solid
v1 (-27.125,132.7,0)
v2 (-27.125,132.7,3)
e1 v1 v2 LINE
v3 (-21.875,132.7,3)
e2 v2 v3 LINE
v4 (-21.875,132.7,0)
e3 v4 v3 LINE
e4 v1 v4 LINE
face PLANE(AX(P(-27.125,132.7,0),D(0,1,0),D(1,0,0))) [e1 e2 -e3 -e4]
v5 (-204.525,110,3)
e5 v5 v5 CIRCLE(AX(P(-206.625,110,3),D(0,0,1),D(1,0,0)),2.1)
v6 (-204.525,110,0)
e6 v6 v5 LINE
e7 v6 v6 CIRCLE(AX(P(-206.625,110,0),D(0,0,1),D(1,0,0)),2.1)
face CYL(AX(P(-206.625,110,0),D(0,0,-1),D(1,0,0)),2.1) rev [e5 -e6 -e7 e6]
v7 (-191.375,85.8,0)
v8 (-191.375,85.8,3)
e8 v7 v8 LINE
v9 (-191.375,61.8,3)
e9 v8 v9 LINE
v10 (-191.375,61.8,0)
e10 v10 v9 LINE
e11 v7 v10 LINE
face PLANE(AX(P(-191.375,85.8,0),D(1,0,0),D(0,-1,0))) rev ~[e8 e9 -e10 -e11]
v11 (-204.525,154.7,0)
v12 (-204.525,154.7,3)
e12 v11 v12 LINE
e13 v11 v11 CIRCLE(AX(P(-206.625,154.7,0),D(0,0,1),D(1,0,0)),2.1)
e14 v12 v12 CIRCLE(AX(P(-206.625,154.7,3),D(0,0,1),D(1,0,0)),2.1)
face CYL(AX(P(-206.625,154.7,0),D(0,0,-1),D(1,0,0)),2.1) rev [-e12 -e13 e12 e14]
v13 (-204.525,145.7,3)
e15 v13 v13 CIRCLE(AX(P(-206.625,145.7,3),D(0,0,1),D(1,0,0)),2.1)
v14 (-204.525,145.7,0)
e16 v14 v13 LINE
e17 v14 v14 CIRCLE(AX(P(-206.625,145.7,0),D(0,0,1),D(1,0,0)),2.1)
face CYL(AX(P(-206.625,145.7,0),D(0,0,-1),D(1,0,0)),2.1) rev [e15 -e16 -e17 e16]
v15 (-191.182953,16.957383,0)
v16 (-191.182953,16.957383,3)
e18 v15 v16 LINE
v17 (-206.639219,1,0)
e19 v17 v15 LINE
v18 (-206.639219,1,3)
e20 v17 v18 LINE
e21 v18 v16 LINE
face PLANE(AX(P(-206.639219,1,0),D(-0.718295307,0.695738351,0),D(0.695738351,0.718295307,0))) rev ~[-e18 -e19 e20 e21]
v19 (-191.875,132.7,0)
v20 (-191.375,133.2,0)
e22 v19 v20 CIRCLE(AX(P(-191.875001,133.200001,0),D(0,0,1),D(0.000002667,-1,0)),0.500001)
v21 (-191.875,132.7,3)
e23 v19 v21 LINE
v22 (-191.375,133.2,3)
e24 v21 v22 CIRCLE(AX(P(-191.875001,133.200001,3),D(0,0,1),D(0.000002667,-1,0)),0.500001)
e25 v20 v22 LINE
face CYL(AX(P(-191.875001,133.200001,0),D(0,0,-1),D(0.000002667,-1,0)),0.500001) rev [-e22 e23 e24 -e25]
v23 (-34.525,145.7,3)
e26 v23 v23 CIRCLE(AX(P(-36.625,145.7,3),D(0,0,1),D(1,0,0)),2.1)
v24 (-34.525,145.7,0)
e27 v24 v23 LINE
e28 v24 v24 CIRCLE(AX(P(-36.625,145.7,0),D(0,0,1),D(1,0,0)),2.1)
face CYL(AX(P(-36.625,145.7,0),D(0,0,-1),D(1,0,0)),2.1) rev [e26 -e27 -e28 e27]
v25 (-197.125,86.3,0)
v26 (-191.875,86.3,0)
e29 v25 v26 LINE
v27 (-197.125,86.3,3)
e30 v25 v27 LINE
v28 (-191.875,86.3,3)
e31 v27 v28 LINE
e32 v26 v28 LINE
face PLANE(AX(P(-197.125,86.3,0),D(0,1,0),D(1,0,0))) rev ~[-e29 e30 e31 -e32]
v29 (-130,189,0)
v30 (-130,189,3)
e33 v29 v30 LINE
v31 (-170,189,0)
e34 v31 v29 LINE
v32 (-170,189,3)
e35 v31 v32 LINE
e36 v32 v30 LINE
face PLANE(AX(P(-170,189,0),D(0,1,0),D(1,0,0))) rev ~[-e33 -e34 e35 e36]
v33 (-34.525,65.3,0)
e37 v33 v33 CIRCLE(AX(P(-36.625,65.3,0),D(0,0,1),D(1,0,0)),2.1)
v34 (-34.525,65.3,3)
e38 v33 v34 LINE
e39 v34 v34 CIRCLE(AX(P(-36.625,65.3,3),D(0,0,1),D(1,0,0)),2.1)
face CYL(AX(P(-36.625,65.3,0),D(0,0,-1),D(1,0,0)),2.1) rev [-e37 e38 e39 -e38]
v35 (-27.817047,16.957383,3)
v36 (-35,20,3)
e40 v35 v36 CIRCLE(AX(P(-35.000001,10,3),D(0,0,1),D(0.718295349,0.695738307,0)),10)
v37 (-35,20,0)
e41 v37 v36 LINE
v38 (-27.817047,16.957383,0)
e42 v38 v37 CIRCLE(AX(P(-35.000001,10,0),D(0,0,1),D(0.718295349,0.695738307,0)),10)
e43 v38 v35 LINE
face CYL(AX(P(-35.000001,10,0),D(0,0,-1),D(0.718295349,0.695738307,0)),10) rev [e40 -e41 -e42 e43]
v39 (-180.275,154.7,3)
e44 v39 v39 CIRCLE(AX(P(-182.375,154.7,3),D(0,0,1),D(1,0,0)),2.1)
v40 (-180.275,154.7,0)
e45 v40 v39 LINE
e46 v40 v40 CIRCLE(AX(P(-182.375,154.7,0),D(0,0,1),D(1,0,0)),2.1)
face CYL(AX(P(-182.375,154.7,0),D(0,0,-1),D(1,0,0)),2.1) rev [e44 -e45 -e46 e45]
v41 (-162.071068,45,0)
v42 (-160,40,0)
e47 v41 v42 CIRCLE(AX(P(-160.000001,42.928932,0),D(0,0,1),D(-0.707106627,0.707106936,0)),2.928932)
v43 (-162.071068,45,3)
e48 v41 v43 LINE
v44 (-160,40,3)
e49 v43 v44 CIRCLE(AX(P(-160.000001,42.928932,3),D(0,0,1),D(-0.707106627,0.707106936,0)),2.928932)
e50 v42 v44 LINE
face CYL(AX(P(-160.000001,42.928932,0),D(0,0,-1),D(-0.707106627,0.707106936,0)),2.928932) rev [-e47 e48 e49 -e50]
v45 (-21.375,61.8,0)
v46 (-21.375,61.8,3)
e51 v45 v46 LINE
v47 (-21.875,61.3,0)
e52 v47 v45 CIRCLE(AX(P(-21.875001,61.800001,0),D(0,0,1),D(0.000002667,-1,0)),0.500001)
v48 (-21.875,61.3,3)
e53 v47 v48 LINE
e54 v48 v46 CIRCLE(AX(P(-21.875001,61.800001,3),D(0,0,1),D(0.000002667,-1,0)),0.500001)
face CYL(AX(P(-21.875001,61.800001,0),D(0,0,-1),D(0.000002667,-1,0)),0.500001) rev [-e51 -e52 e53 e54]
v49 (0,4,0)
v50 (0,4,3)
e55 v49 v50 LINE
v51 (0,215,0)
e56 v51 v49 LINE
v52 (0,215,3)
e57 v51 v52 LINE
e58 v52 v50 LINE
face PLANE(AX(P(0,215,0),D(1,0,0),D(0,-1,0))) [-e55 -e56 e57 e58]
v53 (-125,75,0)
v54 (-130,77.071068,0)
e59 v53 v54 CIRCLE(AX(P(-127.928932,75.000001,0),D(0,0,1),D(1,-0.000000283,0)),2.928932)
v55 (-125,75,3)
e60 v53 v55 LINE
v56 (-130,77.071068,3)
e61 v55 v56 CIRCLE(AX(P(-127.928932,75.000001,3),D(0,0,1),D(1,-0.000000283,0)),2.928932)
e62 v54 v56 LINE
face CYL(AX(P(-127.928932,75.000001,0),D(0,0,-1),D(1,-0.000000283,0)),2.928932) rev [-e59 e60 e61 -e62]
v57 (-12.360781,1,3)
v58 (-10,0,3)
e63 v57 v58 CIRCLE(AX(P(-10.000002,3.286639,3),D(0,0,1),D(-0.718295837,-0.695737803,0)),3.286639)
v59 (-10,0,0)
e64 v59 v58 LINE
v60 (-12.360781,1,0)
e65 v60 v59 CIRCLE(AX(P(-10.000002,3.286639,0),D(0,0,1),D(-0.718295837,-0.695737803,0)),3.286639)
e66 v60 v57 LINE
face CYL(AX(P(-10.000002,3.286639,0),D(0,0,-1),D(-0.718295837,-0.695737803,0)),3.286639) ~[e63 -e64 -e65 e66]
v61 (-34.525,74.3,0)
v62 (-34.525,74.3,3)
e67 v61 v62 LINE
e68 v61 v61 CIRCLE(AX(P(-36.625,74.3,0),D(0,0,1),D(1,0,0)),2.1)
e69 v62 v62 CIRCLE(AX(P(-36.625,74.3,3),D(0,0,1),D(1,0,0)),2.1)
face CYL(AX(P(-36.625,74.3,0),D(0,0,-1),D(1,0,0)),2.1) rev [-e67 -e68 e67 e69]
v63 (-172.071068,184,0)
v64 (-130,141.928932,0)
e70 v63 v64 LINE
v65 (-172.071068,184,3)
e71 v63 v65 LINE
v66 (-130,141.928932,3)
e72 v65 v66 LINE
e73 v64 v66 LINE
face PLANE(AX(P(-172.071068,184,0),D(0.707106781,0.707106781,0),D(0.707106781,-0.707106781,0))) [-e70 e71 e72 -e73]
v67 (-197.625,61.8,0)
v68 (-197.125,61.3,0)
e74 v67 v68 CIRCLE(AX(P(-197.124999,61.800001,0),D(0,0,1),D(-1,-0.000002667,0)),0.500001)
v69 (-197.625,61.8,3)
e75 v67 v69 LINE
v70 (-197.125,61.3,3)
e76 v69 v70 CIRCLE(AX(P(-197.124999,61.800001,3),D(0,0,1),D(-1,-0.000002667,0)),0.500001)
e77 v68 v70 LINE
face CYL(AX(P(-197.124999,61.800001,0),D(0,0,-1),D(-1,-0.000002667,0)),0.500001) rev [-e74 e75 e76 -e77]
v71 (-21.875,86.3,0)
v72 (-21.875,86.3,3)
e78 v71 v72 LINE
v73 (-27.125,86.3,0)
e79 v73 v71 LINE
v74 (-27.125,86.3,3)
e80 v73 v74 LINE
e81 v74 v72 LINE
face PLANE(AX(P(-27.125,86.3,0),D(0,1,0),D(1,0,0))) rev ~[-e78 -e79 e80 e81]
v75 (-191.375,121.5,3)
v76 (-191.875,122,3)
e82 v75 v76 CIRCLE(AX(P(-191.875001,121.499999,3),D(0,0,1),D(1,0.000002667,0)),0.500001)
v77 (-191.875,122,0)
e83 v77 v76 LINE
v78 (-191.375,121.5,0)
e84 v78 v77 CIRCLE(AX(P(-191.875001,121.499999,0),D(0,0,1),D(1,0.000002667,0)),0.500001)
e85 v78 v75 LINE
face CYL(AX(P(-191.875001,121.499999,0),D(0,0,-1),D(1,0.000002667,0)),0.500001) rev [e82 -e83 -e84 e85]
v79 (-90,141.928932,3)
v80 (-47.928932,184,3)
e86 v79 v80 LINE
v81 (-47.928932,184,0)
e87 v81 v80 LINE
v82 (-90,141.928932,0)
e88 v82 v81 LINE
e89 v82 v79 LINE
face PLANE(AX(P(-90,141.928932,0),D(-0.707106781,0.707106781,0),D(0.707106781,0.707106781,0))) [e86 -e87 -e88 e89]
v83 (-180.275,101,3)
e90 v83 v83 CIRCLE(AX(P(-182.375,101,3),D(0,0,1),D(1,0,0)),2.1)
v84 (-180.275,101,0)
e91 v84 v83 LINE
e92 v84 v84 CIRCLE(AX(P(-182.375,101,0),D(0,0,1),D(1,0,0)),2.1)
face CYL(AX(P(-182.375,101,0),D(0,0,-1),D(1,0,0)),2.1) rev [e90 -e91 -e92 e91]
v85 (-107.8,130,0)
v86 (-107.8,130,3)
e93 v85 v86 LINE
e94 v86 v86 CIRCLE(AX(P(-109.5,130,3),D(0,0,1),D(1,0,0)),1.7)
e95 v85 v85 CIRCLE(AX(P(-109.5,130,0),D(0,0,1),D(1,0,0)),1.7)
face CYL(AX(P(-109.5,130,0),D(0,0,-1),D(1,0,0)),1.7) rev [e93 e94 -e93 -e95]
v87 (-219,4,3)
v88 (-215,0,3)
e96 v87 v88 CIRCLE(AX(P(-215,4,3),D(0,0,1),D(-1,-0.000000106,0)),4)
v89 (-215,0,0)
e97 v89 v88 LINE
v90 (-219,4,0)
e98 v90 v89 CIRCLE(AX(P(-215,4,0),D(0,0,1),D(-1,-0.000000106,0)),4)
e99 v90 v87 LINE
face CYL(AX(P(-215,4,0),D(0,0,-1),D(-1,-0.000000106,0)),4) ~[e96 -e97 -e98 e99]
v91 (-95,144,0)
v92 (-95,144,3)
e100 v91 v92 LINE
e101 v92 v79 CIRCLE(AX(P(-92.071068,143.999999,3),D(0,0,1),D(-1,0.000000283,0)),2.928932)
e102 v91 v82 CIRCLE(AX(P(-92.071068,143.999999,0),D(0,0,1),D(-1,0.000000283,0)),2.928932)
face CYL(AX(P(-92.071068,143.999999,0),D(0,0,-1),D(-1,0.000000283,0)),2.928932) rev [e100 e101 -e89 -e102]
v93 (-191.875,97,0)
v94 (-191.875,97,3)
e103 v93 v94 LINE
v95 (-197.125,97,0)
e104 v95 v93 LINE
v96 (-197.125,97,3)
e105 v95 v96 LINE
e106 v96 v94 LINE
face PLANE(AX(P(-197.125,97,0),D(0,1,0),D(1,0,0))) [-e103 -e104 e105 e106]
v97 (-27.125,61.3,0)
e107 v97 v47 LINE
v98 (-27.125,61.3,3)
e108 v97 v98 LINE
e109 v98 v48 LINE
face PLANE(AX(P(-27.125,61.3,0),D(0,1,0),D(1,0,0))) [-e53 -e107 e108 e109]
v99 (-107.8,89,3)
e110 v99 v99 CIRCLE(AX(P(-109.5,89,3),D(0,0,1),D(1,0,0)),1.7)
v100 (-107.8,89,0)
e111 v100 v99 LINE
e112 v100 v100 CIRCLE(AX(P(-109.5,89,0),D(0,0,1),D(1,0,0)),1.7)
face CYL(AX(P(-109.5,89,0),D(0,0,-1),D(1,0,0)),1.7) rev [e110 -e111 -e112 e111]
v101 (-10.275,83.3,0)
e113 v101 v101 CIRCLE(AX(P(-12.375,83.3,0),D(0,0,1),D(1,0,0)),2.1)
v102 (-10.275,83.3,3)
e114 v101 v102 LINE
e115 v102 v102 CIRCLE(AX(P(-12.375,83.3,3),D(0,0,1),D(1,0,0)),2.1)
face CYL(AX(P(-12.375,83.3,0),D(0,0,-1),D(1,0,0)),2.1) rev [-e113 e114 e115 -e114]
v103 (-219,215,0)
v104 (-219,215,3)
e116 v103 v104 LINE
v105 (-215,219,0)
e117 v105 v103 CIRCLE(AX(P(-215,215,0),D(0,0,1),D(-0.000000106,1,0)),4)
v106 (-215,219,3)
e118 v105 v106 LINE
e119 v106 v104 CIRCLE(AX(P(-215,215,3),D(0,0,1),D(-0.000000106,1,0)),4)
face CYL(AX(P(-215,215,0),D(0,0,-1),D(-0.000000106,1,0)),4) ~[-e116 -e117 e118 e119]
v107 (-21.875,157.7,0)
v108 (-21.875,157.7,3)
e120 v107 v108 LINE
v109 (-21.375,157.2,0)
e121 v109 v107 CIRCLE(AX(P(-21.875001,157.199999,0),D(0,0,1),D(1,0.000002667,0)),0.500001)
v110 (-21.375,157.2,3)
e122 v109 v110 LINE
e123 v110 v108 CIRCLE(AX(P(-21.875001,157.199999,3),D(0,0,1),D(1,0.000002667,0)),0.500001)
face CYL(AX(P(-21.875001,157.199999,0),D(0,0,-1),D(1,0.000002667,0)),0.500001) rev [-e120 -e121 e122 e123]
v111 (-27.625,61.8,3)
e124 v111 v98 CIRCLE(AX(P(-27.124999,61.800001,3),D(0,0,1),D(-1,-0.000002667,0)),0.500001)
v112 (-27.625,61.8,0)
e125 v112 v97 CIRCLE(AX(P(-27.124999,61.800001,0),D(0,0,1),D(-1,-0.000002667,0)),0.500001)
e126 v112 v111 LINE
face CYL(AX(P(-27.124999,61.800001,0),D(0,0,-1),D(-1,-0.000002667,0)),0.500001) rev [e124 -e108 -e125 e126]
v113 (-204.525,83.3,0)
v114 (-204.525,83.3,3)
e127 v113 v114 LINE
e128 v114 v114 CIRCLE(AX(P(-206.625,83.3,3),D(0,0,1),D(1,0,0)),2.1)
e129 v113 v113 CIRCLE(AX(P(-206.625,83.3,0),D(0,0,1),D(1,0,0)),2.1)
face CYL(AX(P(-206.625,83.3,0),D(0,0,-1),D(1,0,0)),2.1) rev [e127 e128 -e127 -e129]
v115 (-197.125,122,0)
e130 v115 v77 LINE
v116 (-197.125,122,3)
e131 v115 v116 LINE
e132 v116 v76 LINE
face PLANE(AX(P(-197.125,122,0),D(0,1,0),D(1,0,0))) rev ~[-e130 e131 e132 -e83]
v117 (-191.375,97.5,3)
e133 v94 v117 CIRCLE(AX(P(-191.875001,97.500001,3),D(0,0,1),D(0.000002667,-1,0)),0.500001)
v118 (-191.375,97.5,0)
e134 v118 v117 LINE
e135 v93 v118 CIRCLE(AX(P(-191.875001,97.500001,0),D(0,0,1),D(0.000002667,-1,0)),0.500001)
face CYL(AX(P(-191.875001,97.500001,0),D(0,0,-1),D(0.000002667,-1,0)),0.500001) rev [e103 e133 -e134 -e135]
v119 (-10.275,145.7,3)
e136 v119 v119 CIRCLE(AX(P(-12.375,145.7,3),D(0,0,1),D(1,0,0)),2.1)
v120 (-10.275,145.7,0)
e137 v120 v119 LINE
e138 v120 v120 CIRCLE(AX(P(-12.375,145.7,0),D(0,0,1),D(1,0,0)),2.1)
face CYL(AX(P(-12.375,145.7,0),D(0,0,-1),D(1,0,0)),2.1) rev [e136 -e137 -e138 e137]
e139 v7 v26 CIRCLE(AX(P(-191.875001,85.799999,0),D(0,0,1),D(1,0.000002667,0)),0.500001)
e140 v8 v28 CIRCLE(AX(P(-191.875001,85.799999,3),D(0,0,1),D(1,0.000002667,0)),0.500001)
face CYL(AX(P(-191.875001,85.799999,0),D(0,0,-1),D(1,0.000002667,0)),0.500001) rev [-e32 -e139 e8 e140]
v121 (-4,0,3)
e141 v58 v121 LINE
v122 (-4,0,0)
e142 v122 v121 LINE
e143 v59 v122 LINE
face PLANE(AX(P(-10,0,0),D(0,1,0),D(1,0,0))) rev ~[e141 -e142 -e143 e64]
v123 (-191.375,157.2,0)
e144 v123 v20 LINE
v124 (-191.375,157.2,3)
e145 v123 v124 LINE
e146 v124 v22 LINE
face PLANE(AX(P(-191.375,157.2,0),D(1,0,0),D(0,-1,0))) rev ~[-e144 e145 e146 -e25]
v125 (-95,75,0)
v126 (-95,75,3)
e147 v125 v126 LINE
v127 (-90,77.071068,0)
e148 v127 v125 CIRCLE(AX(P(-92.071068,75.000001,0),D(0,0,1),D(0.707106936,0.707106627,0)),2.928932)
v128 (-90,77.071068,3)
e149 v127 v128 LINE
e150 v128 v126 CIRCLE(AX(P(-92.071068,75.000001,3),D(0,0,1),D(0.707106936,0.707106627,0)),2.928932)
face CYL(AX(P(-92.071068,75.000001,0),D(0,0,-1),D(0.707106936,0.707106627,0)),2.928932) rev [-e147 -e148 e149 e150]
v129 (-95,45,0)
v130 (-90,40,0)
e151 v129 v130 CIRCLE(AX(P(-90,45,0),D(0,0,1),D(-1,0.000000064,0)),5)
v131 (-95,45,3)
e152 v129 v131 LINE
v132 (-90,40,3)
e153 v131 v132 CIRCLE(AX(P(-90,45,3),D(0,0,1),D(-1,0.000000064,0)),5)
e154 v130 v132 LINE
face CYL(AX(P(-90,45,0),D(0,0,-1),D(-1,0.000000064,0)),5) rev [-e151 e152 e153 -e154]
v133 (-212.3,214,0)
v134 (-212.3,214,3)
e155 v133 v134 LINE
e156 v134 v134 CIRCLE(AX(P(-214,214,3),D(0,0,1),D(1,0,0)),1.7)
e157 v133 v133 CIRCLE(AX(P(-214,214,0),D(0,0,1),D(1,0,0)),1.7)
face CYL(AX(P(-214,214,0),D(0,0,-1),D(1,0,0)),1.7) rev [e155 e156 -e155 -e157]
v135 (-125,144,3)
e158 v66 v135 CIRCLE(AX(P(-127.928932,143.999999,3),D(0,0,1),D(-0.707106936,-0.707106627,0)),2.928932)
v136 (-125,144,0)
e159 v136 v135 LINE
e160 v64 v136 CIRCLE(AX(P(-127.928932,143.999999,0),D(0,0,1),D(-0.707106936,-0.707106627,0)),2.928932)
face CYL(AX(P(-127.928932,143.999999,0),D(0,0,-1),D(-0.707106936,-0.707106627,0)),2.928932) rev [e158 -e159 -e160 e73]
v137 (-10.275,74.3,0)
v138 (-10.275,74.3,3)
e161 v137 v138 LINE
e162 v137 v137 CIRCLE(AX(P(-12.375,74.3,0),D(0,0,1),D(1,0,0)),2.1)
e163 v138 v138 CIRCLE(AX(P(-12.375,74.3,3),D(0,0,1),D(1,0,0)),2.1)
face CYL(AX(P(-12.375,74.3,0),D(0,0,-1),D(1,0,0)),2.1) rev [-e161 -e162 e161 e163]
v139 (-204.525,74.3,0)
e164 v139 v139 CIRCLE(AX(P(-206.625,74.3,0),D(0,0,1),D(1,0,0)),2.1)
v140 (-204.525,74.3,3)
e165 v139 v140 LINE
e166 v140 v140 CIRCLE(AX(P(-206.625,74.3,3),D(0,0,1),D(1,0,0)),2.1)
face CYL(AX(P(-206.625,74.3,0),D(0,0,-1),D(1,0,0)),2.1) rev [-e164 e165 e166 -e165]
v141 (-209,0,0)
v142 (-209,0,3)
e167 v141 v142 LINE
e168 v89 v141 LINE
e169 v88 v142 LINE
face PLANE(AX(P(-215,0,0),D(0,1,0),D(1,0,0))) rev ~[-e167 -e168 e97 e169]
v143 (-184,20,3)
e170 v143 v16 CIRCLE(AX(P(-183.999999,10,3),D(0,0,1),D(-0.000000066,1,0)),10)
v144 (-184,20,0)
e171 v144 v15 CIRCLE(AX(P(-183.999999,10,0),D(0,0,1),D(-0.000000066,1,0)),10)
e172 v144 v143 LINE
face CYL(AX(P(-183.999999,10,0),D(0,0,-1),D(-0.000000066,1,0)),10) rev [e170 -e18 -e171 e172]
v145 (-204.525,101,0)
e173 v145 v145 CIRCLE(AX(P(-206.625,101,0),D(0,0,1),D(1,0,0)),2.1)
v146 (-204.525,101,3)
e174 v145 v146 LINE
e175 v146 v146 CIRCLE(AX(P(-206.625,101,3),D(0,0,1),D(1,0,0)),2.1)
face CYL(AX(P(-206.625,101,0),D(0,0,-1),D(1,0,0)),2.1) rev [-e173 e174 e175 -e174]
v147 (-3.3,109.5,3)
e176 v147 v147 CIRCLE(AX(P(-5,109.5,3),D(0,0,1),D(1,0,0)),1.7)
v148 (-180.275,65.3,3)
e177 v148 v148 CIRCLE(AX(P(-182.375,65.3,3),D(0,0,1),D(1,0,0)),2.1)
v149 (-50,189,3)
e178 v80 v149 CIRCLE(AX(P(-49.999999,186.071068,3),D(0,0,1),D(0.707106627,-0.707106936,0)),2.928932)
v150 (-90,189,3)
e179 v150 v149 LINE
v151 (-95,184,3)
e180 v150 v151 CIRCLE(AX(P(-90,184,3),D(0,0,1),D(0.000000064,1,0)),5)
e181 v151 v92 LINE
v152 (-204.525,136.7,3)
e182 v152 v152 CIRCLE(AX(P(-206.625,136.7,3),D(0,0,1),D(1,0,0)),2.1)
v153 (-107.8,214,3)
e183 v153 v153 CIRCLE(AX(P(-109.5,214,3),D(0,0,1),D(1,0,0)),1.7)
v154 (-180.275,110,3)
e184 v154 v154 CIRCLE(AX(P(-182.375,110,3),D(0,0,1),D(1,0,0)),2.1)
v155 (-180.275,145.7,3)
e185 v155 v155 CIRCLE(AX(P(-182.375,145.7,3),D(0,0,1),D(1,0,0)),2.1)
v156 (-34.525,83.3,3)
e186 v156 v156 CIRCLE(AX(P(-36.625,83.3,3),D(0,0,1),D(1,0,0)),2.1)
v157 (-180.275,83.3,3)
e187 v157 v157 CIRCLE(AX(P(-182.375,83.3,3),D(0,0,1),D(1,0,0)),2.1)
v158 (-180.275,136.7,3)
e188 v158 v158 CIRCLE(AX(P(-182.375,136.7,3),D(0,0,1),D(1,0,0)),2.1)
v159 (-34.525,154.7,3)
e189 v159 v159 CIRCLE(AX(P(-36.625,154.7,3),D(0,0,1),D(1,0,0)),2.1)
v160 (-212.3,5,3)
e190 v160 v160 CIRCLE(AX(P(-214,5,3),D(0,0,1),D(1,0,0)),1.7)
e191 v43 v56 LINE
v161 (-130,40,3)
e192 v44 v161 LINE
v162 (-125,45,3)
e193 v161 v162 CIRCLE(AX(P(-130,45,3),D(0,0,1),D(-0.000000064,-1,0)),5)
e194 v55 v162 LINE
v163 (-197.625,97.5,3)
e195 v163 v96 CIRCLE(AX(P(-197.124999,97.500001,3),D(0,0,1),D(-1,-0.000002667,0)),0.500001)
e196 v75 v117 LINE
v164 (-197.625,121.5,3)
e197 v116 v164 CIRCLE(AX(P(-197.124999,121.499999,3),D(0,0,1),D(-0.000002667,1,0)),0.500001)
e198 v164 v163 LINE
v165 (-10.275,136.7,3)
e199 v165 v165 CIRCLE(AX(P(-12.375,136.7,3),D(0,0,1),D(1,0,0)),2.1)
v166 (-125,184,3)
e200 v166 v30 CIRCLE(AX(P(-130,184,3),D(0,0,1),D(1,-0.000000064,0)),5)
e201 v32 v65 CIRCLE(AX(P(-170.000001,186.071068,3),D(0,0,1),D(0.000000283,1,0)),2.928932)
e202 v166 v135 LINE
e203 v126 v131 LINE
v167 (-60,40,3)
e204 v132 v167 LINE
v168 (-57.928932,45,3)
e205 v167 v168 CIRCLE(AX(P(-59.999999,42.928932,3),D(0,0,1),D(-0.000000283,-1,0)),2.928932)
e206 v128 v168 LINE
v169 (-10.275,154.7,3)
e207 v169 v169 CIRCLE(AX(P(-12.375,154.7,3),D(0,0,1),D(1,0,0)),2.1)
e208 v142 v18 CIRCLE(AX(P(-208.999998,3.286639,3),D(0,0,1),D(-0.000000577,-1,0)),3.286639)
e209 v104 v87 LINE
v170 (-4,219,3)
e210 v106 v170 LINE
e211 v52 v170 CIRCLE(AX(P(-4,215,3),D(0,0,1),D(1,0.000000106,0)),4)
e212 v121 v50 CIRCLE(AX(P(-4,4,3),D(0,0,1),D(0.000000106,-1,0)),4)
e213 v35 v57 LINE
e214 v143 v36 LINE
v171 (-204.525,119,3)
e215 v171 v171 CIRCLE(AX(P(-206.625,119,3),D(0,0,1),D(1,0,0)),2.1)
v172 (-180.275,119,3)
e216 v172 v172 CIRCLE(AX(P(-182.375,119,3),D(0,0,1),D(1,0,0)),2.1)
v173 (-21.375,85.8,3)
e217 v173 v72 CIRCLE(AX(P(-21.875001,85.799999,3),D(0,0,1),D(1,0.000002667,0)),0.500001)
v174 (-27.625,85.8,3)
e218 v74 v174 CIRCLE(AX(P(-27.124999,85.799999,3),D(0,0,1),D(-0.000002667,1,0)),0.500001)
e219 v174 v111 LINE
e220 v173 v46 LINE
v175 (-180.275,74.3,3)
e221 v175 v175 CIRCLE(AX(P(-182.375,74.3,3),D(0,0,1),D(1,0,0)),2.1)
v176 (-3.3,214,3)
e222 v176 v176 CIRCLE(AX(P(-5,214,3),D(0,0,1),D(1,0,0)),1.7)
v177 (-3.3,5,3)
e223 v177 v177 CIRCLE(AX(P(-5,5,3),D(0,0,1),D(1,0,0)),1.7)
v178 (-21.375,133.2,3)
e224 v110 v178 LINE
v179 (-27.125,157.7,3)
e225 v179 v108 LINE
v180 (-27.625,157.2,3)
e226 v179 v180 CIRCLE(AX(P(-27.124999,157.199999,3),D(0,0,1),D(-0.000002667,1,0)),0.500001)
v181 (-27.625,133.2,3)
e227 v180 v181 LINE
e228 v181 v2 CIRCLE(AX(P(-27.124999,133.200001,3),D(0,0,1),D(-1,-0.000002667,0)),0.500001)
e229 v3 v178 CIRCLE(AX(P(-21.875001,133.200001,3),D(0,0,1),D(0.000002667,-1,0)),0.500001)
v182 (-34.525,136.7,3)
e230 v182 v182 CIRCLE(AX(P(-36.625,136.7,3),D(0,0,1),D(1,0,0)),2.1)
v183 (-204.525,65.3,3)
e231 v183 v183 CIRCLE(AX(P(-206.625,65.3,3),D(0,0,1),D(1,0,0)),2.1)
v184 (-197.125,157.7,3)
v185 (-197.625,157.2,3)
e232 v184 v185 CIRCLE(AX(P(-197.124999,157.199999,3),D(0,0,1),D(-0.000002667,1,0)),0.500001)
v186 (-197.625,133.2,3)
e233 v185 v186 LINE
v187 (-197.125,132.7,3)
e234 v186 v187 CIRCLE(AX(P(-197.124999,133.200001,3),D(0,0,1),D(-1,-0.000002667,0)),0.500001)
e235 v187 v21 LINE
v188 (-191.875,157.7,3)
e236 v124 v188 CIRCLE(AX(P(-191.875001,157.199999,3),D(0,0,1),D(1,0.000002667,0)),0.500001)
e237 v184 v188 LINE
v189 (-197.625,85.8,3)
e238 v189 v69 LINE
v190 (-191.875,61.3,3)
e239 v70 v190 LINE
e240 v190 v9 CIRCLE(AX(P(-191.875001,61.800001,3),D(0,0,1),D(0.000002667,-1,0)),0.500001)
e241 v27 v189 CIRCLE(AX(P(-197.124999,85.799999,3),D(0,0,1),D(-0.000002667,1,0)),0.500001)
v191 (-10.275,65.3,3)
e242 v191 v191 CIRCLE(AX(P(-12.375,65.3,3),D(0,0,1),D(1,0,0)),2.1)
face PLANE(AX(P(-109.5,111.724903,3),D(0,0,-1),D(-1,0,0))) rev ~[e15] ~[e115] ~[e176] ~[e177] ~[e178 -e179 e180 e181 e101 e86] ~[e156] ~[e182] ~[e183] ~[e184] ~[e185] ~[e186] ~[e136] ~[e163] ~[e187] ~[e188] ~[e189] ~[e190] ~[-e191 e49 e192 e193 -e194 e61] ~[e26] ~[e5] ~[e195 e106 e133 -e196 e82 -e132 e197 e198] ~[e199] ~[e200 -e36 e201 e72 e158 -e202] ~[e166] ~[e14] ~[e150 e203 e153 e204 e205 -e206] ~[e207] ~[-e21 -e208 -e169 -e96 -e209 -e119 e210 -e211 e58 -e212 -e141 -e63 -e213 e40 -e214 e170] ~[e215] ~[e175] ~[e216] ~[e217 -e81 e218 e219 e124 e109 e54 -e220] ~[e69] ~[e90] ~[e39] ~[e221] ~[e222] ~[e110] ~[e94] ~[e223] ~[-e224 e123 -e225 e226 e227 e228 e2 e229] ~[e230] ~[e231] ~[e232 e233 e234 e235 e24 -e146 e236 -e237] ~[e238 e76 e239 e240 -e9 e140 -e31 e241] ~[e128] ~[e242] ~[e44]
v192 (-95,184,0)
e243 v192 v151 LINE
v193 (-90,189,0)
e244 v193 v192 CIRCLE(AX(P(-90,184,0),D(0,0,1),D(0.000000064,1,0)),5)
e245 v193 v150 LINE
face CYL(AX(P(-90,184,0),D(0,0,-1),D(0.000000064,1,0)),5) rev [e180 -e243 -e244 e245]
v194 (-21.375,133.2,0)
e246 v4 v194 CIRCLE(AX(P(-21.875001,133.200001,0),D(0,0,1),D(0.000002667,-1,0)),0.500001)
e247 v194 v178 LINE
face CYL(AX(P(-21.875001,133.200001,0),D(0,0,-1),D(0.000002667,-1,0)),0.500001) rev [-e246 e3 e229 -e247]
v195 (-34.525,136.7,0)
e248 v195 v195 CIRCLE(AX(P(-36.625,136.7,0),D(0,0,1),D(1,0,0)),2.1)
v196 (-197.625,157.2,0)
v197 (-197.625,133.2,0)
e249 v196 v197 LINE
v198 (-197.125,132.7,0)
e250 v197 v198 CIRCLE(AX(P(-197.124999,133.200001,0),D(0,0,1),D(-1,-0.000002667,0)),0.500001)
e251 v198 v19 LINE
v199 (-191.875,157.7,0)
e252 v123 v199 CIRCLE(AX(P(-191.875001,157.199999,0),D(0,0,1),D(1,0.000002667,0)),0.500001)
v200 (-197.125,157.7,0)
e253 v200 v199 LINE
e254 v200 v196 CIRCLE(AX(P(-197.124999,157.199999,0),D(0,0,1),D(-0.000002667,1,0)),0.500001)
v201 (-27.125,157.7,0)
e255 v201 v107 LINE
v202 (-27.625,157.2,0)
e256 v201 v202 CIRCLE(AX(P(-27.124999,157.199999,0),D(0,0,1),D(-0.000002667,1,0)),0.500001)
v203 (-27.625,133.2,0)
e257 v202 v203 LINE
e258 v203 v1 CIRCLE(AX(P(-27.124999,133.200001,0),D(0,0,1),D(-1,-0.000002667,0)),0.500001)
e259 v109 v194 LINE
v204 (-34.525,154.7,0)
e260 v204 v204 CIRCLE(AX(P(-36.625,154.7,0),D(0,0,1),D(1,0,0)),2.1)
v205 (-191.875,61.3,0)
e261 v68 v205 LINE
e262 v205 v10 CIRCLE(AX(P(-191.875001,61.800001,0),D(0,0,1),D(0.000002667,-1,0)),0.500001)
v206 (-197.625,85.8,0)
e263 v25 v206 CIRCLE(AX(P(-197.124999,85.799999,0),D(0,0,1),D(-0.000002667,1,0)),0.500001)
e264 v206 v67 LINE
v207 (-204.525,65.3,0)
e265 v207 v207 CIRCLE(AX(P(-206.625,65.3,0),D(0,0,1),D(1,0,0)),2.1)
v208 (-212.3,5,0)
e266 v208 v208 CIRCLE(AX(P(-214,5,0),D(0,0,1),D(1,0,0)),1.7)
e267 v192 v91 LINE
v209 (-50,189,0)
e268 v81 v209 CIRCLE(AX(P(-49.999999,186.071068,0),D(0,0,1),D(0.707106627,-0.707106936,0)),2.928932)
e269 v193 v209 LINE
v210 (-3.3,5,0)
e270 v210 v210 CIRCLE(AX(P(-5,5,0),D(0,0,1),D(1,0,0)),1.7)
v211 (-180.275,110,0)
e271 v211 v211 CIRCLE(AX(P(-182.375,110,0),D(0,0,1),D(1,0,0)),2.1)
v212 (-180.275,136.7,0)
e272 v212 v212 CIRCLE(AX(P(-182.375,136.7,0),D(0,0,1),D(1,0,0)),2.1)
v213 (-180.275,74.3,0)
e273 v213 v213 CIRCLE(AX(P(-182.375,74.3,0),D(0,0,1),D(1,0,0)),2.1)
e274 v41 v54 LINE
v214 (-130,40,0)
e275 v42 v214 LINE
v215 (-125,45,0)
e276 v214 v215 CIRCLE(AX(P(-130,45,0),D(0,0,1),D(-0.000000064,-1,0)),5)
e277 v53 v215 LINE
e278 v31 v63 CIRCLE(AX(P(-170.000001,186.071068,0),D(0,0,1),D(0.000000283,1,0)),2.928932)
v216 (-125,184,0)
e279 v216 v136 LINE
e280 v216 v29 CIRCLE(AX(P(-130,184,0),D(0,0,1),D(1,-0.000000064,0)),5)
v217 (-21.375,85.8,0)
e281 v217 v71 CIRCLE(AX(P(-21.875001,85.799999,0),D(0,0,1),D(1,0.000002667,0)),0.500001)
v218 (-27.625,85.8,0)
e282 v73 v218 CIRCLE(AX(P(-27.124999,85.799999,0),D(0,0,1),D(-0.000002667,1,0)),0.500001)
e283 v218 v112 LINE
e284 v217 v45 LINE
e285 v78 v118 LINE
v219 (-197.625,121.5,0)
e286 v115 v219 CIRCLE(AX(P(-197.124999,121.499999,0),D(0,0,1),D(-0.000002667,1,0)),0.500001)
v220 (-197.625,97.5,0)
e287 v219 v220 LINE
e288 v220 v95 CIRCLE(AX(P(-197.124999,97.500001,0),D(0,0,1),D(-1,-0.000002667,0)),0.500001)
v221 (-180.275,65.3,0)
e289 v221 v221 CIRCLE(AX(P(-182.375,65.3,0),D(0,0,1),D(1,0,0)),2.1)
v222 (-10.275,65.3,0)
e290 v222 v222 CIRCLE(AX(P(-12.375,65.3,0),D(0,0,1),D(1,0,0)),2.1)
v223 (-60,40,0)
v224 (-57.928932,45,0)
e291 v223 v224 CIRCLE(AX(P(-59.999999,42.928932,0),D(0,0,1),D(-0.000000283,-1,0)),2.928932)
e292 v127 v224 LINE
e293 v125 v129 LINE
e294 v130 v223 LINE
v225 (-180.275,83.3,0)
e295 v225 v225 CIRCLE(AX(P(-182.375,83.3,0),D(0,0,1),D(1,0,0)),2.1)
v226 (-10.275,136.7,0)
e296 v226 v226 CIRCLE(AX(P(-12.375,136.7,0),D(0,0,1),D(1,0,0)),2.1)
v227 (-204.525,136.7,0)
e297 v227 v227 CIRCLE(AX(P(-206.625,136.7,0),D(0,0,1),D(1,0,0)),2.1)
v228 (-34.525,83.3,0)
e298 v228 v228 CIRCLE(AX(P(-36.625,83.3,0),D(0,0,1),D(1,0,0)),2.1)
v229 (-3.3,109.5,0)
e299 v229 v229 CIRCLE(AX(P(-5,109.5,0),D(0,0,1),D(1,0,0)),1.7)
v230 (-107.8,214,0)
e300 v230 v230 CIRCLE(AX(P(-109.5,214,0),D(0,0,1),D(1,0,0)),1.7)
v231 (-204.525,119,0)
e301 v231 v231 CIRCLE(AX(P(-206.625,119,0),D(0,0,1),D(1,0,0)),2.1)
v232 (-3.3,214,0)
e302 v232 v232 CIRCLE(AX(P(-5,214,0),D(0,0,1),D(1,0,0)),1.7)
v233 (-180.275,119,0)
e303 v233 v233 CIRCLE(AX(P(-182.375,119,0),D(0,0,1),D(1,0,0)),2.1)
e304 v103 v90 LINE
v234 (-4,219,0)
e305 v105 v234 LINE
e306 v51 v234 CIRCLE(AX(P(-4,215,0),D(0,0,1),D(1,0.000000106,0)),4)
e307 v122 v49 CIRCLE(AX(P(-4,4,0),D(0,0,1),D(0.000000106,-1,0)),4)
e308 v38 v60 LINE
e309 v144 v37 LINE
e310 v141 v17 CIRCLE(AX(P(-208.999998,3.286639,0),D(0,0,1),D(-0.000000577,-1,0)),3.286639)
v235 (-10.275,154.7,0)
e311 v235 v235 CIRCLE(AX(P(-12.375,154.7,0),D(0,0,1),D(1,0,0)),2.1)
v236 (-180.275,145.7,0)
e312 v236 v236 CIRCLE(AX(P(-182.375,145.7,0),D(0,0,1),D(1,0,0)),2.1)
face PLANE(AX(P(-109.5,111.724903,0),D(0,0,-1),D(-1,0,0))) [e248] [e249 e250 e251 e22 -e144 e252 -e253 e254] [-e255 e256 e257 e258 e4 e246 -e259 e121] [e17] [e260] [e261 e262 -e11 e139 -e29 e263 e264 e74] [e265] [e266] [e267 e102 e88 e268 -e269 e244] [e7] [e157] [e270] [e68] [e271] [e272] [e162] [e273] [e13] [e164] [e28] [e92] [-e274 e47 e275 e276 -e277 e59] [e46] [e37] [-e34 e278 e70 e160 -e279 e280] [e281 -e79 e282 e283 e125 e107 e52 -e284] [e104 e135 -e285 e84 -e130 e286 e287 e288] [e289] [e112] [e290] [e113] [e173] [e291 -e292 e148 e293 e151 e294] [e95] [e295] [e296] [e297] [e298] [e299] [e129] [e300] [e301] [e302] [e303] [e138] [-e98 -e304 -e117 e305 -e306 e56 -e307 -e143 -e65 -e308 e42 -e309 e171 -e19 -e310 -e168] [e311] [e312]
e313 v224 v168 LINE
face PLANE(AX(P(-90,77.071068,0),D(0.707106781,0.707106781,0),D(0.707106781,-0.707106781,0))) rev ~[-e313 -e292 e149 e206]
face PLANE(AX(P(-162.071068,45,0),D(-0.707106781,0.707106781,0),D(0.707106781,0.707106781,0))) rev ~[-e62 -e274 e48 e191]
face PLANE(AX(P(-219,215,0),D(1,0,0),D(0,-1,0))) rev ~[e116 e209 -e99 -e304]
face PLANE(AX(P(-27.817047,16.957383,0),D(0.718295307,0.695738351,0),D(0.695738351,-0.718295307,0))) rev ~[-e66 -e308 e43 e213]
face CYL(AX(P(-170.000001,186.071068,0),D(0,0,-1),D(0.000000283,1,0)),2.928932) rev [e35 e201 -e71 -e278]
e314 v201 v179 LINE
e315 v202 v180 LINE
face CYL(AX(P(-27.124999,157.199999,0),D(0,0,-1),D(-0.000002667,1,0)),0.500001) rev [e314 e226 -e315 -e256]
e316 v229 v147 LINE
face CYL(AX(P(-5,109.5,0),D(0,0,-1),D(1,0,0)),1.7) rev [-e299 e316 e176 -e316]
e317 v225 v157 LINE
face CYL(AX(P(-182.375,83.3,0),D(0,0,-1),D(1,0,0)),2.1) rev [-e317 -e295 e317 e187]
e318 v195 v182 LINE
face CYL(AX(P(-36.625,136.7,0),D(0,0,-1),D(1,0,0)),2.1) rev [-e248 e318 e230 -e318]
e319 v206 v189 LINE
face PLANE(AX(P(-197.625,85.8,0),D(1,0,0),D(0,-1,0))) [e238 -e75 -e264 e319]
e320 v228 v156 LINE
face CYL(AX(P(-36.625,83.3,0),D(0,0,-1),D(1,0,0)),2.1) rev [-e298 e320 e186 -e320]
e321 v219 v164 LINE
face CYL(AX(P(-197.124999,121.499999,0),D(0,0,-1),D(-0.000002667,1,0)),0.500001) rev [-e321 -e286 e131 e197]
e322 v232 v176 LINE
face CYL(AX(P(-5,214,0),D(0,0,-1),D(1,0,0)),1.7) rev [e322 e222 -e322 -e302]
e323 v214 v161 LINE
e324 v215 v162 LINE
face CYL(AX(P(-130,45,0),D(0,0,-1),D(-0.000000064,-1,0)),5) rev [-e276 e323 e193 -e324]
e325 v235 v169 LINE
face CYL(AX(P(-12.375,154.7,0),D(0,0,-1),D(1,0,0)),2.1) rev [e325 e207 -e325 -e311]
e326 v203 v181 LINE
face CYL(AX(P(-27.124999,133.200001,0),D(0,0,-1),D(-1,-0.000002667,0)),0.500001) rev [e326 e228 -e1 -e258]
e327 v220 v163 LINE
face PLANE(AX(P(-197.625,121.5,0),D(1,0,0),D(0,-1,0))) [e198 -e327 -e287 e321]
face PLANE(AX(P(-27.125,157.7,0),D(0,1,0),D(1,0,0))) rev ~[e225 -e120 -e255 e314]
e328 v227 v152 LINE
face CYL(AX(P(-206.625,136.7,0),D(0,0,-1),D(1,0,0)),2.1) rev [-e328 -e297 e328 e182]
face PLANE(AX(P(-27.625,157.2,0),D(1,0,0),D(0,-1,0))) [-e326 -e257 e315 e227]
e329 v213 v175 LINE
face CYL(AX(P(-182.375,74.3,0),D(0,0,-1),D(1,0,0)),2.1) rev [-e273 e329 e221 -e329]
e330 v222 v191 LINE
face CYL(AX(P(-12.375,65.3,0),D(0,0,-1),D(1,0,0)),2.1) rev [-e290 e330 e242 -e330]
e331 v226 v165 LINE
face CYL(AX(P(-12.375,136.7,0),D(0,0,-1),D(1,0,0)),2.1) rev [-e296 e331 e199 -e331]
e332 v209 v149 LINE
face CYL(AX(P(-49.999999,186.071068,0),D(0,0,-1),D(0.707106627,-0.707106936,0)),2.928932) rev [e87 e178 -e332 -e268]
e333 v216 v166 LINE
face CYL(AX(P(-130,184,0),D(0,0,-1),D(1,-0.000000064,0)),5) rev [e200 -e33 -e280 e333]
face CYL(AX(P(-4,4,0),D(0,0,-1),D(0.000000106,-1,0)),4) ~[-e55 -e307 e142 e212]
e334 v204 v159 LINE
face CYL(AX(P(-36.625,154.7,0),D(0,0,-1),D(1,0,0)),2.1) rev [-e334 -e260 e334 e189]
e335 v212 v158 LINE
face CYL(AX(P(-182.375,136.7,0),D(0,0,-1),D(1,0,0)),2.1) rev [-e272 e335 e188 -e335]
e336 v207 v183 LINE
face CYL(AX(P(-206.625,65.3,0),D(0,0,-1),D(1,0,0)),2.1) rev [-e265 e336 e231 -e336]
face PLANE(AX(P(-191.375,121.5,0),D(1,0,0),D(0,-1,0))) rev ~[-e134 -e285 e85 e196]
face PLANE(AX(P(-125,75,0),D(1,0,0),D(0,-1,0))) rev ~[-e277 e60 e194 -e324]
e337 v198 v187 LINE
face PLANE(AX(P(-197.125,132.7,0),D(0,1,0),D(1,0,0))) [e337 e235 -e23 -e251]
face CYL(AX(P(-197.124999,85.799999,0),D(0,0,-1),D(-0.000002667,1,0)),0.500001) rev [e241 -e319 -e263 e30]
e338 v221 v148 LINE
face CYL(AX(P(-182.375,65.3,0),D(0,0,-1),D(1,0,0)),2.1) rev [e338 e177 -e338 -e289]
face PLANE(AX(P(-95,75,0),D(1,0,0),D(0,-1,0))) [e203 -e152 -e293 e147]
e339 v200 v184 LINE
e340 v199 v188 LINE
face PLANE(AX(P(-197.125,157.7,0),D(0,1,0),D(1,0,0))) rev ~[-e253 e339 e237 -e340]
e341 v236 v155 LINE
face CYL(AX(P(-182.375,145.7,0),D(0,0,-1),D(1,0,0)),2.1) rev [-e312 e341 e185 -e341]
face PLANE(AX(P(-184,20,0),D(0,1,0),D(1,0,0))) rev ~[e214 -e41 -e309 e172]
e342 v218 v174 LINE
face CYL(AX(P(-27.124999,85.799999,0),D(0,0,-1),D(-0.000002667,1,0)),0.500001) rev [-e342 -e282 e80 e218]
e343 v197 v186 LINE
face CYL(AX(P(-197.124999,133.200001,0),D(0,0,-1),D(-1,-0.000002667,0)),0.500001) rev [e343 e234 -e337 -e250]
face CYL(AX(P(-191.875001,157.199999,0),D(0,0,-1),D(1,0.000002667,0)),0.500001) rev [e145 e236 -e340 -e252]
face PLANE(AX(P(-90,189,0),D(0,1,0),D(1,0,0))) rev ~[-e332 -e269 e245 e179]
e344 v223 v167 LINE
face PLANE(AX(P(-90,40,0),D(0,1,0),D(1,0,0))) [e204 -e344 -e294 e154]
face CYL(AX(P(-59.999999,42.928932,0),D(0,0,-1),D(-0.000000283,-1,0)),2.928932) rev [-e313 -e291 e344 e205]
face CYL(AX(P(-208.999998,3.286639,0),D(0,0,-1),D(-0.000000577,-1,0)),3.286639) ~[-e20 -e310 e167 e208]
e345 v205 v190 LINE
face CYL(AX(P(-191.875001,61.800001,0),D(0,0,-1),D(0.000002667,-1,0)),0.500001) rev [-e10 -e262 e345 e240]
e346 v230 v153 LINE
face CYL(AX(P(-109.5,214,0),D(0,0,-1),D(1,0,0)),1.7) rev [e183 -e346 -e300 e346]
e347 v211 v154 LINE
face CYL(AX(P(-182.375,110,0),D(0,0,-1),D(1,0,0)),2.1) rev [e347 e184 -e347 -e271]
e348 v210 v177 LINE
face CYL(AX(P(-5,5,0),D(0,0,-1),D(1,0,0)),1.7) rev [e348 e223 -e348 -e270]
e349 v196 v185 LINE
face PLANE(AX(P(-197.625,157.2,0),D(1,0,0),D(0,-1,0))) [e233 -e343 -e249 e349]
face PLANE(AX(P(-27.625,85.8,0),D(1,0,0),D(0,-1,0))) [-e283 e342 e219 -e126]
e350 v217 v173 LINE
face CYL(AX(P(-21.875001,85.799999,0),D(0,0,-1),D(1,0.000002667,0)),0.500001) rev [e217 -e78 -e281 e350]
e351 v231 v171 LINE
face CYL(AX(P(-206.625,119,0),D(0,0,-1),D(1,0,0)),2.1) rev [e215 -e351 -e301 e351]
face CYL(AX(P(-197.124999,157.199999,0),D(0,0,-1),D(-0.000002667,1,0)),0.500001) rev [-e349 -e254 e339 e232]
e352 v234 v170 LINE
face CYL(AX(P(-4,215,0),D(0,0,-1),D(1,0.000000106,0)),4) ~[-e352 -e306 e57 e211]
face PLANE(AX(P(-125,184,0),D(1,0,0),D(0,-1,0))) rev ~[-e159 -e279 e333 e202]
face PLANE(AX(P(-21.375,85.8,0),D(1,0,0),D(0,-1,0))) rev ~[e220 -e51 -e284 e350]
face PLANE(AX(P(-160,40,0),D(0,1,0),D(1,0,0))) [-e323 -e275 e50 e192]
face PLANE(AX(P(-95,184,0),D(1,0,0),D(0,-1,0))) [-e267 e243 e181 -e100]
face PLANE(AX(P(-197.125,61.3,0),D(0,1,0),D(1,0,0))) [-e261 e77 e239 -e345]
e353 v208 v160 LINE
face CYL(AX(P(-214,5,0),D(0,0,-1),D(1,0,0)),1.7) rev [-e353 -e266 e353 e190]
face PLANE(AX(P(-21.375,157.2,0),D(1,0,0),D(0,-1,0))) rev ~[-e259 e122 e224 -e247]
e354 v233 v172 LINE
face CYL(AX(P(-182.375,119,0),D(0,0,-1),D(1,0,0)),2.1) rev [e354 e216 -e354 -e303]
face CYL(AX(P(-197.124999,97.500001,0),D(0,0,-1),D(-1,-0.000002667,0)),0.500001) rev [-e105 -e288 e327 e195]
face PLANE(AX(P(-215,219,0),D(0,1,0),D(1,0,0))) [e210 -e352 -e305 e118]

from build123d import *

# Parameters (mm, degrees)
SKETCH009_R   = 1.7
SKETCH009_R_2 = 2.1
PAD_DEPTH     = 3


with BuildPart() as part:
    # Sketch009 → Pad (new body)
    with BuildSketch(Plane.XY):
        with BuildLine():
            Line((-215, 219), (-4, 219))
            ThreePointArc((0, 215), (-1.171573, 217.828427), (-4, 219))
            Line((0, 215), (0, 4))
            ThreePointArc((-4, 0), (-1.171573, 1.171573), (0, 4))
            Line((-10, 0), (-4, 0))
            ThreePointArc((-12.360781, 1), (-11.281921, 0.260308), (-10, 0))
            Line((-27.817047, 16.957383), (-12.360781, 1))
            ThreePointArc((-27.817047, 16.957383), (-31.099605, 19.207981), (-35, 20))
            Line((-184, 20), (-35, 20))
            ThreePointArc((-184, 20), (-187.900395, 19.207981), (-191.182953, 16.957383))
            Line((-206.639219, 1), (-191.182953, 16.957383))
            ThreePointArc((-209, 0), (-207.718079, 0.260308), (-206.639219, 1))
            Line((-215, 0), (-209, 0))
            ThreePointArc((-219, 4), (-217.828427, 1.171573), (-215, 0))
            Line((-219, 215), (-219, 4))
            ThreePointArc((-215, 219), (-217.828427, 217.828427), (-219, 215))
        make_face()
        with Locations((-5, 214)):
            Circle(SKETCH009_R, mode=Mode.SUBTRACT)
        with Locations((-5, 109.5)):
            Circle(SKETCH009_R, mode=Mode.SUBTRACT)
        with Locations((-5, 5)):
            Circle(SKETCH009_R, mode=Mode.SUBTRACT)
        with Locations((-109.5, 214)):
            Circle(SKETCH009_R, mode=Mode.SUBTRACT)
        with Locations((-214, 214)):
            Circle(SKETCH009_R, mode=Mode.SUBTRACT)
        with Locations((-214, 5)):
            Circle(SKETCH009_R, mode=Mode.SUBTRACT)
        with Locations((-109.5, 130)):
            Circle(SKETCH009_R, mode=Mode.SUBTRACT)
        with Locations((-109.5, 89)):
            Circle(SKETCH009_R, mode=Mode.SUBTRACT)
        with Locations((-12.375, 83.3)):
            Circle(SKETCH009_R_2, mode=Mode.SUBTRACT)
        with Locations((-36.625, 83.3)):
            Circle(SKETCH009_R_2, mode=Mode.SUBTRACT)
        with Locations((-12.375, 74.3)):
            Circle(SKETCH009_R_2, mode=Mode.SUBTRACT)
        with Locations((-12.375, 65.3)):
            Circle(SKETCH009_R_2, mode=Mode.SUBTRACT)
        with Locations((-36.625, 74.3)):
            Circle(SKETCH009_R_2, mode=Mode.SUBTRACT)
        with Locations((-36.625, 65.3)):
            Circle(SKETCH009_R_2, mode=Mode.SUBTRACT)
        with Locations((-12.375, 154.7)):
            Circle(SKETCH009_R_2, mode=Mode.SUBTRACT)
        with Locations((-36.625, 154.7)):
            Circle(SKETCH009_R_2, mode=Mode.SUBTRACT)
        with Locations((-12.375, 145.7)):
            Circle(SKETCH009_R_2, mode=Mode.SUBTRACT)
        with Locations((-12.375, 136.7)):
            Circle(SKETCH009_R_2, mode=Mode.SUBTRACT)
        with Locations((-36.625, 145.7)):
            Circle(SKETCH009_R_2, mode=Mode.SUBTRACT)
        with Locations((-36.625, 136.7)):
            Circle(SKETCH009_R_2, mode=Mode.SUBTRACT)
        with Locations((-182.375, 83.3)):
            Circle(SKETCH009_R_2, mode=Mode.SUBTRACT)
        with Locations((-206.625, 83.3)):
            Circle(SKETCH009_R_2, mode=Mode.SUBTRACT)
        with Locations((-182.375, 74.3)):
            Circle(SKETCH009_R_2, mode=Mode.SUBTRACT)
        with Locations((-182.375, 65.3)):
            Circle(SKETCH009_R_2, mode=Mode.SUBTRACT)
        with Locations((-206.625, 74.3)):
            Circle(SKETCH009_R_2, mode=Mode.SUBTRACT)
        with Locations((-206.625, 65.3)):
            Circle(SKETCH009_R_2, mode=Mode.SUBTRACT)
        with Locations((-182.375, 154.7)):
            Circle(SKETCH009_R_2, mode=Mode.SUBTRACT)
        with Locations((-206.625, 154.7)):
            Circle(SKETCH009_R_2, mode=Mode.SUBTRACT)
        with Locations((-182.375, 145.7)):
            Circle(SKETCH009_R_2, mode=Mode.SUBTRACT)
        with Locations((-182.375, 136.7)):
            Circle(SKETCH009_R_2, mode=Mode.SUBTRACT)
        with Locations((-206.625, 145.7)):
            Circle(SKETCH009_R_2, mode=Mode.SUBTRACT)
        with Locations((-206.625, 136.7)):
            Circle(SKETCH009_R_2, mode=Mode.SUBTRACT)
        with Locations((-182.375, 119)):
            Circle(SKETCH009_R_2, mode=Mode.SUBTRACT)
        with Locations((-206.625, 119)):
            Circle(SKETCH009_R_2, mode=Mode.SUBTRACT)
        with Locations((-182.375, 110)):
            Circle(SKETCH009_R_2, mode=Mode.SUBTRACT)
        with Locations((-182.375, 101)):
            Circle(SKETCH009_R_2, mode=Mode.SUBTRACT)
        with Locations((-206.625, 110)):
            Circle(SKETCH009_R_2, mode=Mode.SUBTRACT)
        with Locations((-206.625, 101)):
            Circle(SKETCH009_R_2, mode=Mode.SUBTRACT)
        with BuildLine():
            Line((-27.625, 85.8), (-27.625, 61.8))
            ThreePointArc((-27.625, 61.8), (-27.478553, 61.446447), (-27.125, 61.3))
            Line((-27.125, 61.3), (-21.875, 61.3))
            ThreePointArc((-21.875, 61.3), (-21.521447, 61.446447), (-21.375, 61.8))
            Line((-21.375, 85.8), (-21.375, 61.8))
            ThreePointArc((-21.375, 85.8), (-21.521447, 86.153553), (-21.875, 86.3))
            Line((-27.125, 86.3), (-21.875, 86.3))
            ThreePointArc((-27.125, 86.3), (-27.478553, 86.153553), (-27.625, 85.8))
        make_face(mode=Mode.SUBTRACT)
        with BuildLine():
            Line((-90, 189), (-50, 189))
            ThreePointArc((-47.928932, 184), (-47.294019, 187.191922), (-50, 189))
            Line((-90, 141.928932), (-47.928932, 184))
            ThreePointArc((-95, 144), (-93.191922, 141.294019), (-90, 141.928932))
            Line((-95, 184), (-95, 144))
            ThreePointArc((-90, 189), (-93.535534, 187.535534), (-95, 184))
        make_face(mode=Mode.SUBTRACT)
        with BuildLine():
            Line((-170, 189), (-130, 189))
            ThreePointArc((-125, 184), (-126.464466, 187.535534), (-130, 189))
            Line((-125, 184), (-125, 144))
            ThreePointArc((-130, 141.928932), (-126.808078, 141.294019), (-125, 144))
            Line((-172.071068, 184), (-130, 141.928932))
            ThreePointArc((-170, 189), (-172.705981, 187.191922), (-172.071068, 184))
        make_face(mode=Mode.SUBTRACT)
        with BuildLine():
            Line((-95, 75), (-95, 45))
            ThreePointArc((-95, 45), (-93.535534, 41.464466), (-90, 40))
            Line((-90, 40), (-60, 40))
            ThreePointArc((-60, 40), (-57.294019, 41.808078), (-57.928932, 45))
            Line((-90, 77.071068), (-57.928932, 45))
            ThreePointArc((-90, 77.071068), (-93.191922, 77.705981), (-95, 75))
        make_face(mode=Mode.SUBTRACT)
        with BuildLine():
            Line((-162.071068, 45), (-130, 77.071068))
            ThreePointArc((-125, 75), (-126.808078, 77.705981), (-130, 77.071068))
            Line((-125, 75), (-125, 45))
            ThreePointArc((-130, 40), (-126.464466, 41.464466), (-125, 45))
            Line((-160, 40), (-130, 40))
            ThreePointArc((-162.071068, 45), (-162.705981, 41.808078), (-160, 40))
        make_face(mode=Mode.SUBTRACT)
        with BuildLine():
            Line((-27.625, 157.2), (-27.625, 133.2))
            ThreePointArc((-27.625, 133.2), (-27.478553, 132.846447), (-27.125, 132.7))
            Line((-27.125, 132.7), (-21.875, 132.7))
            ThreePointArc((-21.875, 132.7), (-21.521447, 132.846447), (-21.375, 133.2))
            Line((-21.375, 157.2), (-21.375, 133.2))
            ThreePointArc((-21.375, 157.2), (-21.521447, 157.553553), (-21.875, 157.7))
            Line((-27.125, 157.7), (-21.875, 157.7))
            ThreePointArc((-27.125, 157.7), (-27.478553, 157.553553), (-27.625, 157.2))
        make_face(mode=Mode.SUBTRACT)
        with BuildLine():
            Line((-197.625, 85.8), (-197.625, 61.8))
            ThreePointArc((-197.625, 61.8), (-197.478553, 61.446447), (-197.125, 61.3))
            Line((-197.125, 61.3), (-191.875, 61.3))
            ThreePointArc((-191.875, 61.3), (-191.521447, 61.446447), (-191.375, 61.8))
            Line((-191.375, 85.8), (-191.375, 61.8))
            ThreePointArc((-191.375, 85.8), (-191.521447, 86.153553), (-191.875, 86.3))
            Line((-197.125, 86.3), (-191.875, 86.3))
            ThreePointArc((-197.125, 86.3), (-197.478553, 86.153553), (-197.625, 85.8))
        make_face(mode=Mode.SUBTRACT)
        with BuildLine():
            Line((-197.625, 157.2), (-197.625, 133.2))
            ThreePointArc((-197.625, 133.2), (-197.478553, 132.846447), (-197.125, 132.7))
            Line((-197.125, 132.7), (-191.875, 132.7))
            ThreePointArc((-191.875, 132.7), (-191.521447, 132.846447), (-191.375, 133.2))
            Line((-191.375, 157.2), (-191.375, 133.2))
            ThreePointArc((-191.375, 157.2), (-191.521447, 157.553553), (-191.875, 157.7))
            Line((-197.125, 157.7), (-191.875, 157.7))
            ThreePointArc((-197.125, 157.7), (-197.478553, 157.553553), (-197.625, 157.2))
        make_face(mode=Mode.SUBTRACT)
        with BuildLine():
            Line((-197.625, 121.5), (-197.625, 97.5))
            ThreePointArc((-197.625, 97.5), (-197.478553, 97.146447), (-197.125, 97))
            Line((-197.125, 97), (-191.875, 97))
            ThreePointArc((-191.875, 97), (-191.521447, 97.146447), (-191.375, 97.5))
            Line((-191.375, 121.5), (-191.375, 97.5))
            ThreePointArc((-191.375, 121.5), (-191.521447, 121.853553), (-191.875, 122))
            Line((-197.125, 122), (-191.875, 122))
            ThreePointArc((-197.125, 122), (-197.478553, 121.853553), (-197.625, 121.5))
        make_face(mode=Mode.SUBTRACT)
    extrude(amount=PAD_DEPTH)


solid = part.part
